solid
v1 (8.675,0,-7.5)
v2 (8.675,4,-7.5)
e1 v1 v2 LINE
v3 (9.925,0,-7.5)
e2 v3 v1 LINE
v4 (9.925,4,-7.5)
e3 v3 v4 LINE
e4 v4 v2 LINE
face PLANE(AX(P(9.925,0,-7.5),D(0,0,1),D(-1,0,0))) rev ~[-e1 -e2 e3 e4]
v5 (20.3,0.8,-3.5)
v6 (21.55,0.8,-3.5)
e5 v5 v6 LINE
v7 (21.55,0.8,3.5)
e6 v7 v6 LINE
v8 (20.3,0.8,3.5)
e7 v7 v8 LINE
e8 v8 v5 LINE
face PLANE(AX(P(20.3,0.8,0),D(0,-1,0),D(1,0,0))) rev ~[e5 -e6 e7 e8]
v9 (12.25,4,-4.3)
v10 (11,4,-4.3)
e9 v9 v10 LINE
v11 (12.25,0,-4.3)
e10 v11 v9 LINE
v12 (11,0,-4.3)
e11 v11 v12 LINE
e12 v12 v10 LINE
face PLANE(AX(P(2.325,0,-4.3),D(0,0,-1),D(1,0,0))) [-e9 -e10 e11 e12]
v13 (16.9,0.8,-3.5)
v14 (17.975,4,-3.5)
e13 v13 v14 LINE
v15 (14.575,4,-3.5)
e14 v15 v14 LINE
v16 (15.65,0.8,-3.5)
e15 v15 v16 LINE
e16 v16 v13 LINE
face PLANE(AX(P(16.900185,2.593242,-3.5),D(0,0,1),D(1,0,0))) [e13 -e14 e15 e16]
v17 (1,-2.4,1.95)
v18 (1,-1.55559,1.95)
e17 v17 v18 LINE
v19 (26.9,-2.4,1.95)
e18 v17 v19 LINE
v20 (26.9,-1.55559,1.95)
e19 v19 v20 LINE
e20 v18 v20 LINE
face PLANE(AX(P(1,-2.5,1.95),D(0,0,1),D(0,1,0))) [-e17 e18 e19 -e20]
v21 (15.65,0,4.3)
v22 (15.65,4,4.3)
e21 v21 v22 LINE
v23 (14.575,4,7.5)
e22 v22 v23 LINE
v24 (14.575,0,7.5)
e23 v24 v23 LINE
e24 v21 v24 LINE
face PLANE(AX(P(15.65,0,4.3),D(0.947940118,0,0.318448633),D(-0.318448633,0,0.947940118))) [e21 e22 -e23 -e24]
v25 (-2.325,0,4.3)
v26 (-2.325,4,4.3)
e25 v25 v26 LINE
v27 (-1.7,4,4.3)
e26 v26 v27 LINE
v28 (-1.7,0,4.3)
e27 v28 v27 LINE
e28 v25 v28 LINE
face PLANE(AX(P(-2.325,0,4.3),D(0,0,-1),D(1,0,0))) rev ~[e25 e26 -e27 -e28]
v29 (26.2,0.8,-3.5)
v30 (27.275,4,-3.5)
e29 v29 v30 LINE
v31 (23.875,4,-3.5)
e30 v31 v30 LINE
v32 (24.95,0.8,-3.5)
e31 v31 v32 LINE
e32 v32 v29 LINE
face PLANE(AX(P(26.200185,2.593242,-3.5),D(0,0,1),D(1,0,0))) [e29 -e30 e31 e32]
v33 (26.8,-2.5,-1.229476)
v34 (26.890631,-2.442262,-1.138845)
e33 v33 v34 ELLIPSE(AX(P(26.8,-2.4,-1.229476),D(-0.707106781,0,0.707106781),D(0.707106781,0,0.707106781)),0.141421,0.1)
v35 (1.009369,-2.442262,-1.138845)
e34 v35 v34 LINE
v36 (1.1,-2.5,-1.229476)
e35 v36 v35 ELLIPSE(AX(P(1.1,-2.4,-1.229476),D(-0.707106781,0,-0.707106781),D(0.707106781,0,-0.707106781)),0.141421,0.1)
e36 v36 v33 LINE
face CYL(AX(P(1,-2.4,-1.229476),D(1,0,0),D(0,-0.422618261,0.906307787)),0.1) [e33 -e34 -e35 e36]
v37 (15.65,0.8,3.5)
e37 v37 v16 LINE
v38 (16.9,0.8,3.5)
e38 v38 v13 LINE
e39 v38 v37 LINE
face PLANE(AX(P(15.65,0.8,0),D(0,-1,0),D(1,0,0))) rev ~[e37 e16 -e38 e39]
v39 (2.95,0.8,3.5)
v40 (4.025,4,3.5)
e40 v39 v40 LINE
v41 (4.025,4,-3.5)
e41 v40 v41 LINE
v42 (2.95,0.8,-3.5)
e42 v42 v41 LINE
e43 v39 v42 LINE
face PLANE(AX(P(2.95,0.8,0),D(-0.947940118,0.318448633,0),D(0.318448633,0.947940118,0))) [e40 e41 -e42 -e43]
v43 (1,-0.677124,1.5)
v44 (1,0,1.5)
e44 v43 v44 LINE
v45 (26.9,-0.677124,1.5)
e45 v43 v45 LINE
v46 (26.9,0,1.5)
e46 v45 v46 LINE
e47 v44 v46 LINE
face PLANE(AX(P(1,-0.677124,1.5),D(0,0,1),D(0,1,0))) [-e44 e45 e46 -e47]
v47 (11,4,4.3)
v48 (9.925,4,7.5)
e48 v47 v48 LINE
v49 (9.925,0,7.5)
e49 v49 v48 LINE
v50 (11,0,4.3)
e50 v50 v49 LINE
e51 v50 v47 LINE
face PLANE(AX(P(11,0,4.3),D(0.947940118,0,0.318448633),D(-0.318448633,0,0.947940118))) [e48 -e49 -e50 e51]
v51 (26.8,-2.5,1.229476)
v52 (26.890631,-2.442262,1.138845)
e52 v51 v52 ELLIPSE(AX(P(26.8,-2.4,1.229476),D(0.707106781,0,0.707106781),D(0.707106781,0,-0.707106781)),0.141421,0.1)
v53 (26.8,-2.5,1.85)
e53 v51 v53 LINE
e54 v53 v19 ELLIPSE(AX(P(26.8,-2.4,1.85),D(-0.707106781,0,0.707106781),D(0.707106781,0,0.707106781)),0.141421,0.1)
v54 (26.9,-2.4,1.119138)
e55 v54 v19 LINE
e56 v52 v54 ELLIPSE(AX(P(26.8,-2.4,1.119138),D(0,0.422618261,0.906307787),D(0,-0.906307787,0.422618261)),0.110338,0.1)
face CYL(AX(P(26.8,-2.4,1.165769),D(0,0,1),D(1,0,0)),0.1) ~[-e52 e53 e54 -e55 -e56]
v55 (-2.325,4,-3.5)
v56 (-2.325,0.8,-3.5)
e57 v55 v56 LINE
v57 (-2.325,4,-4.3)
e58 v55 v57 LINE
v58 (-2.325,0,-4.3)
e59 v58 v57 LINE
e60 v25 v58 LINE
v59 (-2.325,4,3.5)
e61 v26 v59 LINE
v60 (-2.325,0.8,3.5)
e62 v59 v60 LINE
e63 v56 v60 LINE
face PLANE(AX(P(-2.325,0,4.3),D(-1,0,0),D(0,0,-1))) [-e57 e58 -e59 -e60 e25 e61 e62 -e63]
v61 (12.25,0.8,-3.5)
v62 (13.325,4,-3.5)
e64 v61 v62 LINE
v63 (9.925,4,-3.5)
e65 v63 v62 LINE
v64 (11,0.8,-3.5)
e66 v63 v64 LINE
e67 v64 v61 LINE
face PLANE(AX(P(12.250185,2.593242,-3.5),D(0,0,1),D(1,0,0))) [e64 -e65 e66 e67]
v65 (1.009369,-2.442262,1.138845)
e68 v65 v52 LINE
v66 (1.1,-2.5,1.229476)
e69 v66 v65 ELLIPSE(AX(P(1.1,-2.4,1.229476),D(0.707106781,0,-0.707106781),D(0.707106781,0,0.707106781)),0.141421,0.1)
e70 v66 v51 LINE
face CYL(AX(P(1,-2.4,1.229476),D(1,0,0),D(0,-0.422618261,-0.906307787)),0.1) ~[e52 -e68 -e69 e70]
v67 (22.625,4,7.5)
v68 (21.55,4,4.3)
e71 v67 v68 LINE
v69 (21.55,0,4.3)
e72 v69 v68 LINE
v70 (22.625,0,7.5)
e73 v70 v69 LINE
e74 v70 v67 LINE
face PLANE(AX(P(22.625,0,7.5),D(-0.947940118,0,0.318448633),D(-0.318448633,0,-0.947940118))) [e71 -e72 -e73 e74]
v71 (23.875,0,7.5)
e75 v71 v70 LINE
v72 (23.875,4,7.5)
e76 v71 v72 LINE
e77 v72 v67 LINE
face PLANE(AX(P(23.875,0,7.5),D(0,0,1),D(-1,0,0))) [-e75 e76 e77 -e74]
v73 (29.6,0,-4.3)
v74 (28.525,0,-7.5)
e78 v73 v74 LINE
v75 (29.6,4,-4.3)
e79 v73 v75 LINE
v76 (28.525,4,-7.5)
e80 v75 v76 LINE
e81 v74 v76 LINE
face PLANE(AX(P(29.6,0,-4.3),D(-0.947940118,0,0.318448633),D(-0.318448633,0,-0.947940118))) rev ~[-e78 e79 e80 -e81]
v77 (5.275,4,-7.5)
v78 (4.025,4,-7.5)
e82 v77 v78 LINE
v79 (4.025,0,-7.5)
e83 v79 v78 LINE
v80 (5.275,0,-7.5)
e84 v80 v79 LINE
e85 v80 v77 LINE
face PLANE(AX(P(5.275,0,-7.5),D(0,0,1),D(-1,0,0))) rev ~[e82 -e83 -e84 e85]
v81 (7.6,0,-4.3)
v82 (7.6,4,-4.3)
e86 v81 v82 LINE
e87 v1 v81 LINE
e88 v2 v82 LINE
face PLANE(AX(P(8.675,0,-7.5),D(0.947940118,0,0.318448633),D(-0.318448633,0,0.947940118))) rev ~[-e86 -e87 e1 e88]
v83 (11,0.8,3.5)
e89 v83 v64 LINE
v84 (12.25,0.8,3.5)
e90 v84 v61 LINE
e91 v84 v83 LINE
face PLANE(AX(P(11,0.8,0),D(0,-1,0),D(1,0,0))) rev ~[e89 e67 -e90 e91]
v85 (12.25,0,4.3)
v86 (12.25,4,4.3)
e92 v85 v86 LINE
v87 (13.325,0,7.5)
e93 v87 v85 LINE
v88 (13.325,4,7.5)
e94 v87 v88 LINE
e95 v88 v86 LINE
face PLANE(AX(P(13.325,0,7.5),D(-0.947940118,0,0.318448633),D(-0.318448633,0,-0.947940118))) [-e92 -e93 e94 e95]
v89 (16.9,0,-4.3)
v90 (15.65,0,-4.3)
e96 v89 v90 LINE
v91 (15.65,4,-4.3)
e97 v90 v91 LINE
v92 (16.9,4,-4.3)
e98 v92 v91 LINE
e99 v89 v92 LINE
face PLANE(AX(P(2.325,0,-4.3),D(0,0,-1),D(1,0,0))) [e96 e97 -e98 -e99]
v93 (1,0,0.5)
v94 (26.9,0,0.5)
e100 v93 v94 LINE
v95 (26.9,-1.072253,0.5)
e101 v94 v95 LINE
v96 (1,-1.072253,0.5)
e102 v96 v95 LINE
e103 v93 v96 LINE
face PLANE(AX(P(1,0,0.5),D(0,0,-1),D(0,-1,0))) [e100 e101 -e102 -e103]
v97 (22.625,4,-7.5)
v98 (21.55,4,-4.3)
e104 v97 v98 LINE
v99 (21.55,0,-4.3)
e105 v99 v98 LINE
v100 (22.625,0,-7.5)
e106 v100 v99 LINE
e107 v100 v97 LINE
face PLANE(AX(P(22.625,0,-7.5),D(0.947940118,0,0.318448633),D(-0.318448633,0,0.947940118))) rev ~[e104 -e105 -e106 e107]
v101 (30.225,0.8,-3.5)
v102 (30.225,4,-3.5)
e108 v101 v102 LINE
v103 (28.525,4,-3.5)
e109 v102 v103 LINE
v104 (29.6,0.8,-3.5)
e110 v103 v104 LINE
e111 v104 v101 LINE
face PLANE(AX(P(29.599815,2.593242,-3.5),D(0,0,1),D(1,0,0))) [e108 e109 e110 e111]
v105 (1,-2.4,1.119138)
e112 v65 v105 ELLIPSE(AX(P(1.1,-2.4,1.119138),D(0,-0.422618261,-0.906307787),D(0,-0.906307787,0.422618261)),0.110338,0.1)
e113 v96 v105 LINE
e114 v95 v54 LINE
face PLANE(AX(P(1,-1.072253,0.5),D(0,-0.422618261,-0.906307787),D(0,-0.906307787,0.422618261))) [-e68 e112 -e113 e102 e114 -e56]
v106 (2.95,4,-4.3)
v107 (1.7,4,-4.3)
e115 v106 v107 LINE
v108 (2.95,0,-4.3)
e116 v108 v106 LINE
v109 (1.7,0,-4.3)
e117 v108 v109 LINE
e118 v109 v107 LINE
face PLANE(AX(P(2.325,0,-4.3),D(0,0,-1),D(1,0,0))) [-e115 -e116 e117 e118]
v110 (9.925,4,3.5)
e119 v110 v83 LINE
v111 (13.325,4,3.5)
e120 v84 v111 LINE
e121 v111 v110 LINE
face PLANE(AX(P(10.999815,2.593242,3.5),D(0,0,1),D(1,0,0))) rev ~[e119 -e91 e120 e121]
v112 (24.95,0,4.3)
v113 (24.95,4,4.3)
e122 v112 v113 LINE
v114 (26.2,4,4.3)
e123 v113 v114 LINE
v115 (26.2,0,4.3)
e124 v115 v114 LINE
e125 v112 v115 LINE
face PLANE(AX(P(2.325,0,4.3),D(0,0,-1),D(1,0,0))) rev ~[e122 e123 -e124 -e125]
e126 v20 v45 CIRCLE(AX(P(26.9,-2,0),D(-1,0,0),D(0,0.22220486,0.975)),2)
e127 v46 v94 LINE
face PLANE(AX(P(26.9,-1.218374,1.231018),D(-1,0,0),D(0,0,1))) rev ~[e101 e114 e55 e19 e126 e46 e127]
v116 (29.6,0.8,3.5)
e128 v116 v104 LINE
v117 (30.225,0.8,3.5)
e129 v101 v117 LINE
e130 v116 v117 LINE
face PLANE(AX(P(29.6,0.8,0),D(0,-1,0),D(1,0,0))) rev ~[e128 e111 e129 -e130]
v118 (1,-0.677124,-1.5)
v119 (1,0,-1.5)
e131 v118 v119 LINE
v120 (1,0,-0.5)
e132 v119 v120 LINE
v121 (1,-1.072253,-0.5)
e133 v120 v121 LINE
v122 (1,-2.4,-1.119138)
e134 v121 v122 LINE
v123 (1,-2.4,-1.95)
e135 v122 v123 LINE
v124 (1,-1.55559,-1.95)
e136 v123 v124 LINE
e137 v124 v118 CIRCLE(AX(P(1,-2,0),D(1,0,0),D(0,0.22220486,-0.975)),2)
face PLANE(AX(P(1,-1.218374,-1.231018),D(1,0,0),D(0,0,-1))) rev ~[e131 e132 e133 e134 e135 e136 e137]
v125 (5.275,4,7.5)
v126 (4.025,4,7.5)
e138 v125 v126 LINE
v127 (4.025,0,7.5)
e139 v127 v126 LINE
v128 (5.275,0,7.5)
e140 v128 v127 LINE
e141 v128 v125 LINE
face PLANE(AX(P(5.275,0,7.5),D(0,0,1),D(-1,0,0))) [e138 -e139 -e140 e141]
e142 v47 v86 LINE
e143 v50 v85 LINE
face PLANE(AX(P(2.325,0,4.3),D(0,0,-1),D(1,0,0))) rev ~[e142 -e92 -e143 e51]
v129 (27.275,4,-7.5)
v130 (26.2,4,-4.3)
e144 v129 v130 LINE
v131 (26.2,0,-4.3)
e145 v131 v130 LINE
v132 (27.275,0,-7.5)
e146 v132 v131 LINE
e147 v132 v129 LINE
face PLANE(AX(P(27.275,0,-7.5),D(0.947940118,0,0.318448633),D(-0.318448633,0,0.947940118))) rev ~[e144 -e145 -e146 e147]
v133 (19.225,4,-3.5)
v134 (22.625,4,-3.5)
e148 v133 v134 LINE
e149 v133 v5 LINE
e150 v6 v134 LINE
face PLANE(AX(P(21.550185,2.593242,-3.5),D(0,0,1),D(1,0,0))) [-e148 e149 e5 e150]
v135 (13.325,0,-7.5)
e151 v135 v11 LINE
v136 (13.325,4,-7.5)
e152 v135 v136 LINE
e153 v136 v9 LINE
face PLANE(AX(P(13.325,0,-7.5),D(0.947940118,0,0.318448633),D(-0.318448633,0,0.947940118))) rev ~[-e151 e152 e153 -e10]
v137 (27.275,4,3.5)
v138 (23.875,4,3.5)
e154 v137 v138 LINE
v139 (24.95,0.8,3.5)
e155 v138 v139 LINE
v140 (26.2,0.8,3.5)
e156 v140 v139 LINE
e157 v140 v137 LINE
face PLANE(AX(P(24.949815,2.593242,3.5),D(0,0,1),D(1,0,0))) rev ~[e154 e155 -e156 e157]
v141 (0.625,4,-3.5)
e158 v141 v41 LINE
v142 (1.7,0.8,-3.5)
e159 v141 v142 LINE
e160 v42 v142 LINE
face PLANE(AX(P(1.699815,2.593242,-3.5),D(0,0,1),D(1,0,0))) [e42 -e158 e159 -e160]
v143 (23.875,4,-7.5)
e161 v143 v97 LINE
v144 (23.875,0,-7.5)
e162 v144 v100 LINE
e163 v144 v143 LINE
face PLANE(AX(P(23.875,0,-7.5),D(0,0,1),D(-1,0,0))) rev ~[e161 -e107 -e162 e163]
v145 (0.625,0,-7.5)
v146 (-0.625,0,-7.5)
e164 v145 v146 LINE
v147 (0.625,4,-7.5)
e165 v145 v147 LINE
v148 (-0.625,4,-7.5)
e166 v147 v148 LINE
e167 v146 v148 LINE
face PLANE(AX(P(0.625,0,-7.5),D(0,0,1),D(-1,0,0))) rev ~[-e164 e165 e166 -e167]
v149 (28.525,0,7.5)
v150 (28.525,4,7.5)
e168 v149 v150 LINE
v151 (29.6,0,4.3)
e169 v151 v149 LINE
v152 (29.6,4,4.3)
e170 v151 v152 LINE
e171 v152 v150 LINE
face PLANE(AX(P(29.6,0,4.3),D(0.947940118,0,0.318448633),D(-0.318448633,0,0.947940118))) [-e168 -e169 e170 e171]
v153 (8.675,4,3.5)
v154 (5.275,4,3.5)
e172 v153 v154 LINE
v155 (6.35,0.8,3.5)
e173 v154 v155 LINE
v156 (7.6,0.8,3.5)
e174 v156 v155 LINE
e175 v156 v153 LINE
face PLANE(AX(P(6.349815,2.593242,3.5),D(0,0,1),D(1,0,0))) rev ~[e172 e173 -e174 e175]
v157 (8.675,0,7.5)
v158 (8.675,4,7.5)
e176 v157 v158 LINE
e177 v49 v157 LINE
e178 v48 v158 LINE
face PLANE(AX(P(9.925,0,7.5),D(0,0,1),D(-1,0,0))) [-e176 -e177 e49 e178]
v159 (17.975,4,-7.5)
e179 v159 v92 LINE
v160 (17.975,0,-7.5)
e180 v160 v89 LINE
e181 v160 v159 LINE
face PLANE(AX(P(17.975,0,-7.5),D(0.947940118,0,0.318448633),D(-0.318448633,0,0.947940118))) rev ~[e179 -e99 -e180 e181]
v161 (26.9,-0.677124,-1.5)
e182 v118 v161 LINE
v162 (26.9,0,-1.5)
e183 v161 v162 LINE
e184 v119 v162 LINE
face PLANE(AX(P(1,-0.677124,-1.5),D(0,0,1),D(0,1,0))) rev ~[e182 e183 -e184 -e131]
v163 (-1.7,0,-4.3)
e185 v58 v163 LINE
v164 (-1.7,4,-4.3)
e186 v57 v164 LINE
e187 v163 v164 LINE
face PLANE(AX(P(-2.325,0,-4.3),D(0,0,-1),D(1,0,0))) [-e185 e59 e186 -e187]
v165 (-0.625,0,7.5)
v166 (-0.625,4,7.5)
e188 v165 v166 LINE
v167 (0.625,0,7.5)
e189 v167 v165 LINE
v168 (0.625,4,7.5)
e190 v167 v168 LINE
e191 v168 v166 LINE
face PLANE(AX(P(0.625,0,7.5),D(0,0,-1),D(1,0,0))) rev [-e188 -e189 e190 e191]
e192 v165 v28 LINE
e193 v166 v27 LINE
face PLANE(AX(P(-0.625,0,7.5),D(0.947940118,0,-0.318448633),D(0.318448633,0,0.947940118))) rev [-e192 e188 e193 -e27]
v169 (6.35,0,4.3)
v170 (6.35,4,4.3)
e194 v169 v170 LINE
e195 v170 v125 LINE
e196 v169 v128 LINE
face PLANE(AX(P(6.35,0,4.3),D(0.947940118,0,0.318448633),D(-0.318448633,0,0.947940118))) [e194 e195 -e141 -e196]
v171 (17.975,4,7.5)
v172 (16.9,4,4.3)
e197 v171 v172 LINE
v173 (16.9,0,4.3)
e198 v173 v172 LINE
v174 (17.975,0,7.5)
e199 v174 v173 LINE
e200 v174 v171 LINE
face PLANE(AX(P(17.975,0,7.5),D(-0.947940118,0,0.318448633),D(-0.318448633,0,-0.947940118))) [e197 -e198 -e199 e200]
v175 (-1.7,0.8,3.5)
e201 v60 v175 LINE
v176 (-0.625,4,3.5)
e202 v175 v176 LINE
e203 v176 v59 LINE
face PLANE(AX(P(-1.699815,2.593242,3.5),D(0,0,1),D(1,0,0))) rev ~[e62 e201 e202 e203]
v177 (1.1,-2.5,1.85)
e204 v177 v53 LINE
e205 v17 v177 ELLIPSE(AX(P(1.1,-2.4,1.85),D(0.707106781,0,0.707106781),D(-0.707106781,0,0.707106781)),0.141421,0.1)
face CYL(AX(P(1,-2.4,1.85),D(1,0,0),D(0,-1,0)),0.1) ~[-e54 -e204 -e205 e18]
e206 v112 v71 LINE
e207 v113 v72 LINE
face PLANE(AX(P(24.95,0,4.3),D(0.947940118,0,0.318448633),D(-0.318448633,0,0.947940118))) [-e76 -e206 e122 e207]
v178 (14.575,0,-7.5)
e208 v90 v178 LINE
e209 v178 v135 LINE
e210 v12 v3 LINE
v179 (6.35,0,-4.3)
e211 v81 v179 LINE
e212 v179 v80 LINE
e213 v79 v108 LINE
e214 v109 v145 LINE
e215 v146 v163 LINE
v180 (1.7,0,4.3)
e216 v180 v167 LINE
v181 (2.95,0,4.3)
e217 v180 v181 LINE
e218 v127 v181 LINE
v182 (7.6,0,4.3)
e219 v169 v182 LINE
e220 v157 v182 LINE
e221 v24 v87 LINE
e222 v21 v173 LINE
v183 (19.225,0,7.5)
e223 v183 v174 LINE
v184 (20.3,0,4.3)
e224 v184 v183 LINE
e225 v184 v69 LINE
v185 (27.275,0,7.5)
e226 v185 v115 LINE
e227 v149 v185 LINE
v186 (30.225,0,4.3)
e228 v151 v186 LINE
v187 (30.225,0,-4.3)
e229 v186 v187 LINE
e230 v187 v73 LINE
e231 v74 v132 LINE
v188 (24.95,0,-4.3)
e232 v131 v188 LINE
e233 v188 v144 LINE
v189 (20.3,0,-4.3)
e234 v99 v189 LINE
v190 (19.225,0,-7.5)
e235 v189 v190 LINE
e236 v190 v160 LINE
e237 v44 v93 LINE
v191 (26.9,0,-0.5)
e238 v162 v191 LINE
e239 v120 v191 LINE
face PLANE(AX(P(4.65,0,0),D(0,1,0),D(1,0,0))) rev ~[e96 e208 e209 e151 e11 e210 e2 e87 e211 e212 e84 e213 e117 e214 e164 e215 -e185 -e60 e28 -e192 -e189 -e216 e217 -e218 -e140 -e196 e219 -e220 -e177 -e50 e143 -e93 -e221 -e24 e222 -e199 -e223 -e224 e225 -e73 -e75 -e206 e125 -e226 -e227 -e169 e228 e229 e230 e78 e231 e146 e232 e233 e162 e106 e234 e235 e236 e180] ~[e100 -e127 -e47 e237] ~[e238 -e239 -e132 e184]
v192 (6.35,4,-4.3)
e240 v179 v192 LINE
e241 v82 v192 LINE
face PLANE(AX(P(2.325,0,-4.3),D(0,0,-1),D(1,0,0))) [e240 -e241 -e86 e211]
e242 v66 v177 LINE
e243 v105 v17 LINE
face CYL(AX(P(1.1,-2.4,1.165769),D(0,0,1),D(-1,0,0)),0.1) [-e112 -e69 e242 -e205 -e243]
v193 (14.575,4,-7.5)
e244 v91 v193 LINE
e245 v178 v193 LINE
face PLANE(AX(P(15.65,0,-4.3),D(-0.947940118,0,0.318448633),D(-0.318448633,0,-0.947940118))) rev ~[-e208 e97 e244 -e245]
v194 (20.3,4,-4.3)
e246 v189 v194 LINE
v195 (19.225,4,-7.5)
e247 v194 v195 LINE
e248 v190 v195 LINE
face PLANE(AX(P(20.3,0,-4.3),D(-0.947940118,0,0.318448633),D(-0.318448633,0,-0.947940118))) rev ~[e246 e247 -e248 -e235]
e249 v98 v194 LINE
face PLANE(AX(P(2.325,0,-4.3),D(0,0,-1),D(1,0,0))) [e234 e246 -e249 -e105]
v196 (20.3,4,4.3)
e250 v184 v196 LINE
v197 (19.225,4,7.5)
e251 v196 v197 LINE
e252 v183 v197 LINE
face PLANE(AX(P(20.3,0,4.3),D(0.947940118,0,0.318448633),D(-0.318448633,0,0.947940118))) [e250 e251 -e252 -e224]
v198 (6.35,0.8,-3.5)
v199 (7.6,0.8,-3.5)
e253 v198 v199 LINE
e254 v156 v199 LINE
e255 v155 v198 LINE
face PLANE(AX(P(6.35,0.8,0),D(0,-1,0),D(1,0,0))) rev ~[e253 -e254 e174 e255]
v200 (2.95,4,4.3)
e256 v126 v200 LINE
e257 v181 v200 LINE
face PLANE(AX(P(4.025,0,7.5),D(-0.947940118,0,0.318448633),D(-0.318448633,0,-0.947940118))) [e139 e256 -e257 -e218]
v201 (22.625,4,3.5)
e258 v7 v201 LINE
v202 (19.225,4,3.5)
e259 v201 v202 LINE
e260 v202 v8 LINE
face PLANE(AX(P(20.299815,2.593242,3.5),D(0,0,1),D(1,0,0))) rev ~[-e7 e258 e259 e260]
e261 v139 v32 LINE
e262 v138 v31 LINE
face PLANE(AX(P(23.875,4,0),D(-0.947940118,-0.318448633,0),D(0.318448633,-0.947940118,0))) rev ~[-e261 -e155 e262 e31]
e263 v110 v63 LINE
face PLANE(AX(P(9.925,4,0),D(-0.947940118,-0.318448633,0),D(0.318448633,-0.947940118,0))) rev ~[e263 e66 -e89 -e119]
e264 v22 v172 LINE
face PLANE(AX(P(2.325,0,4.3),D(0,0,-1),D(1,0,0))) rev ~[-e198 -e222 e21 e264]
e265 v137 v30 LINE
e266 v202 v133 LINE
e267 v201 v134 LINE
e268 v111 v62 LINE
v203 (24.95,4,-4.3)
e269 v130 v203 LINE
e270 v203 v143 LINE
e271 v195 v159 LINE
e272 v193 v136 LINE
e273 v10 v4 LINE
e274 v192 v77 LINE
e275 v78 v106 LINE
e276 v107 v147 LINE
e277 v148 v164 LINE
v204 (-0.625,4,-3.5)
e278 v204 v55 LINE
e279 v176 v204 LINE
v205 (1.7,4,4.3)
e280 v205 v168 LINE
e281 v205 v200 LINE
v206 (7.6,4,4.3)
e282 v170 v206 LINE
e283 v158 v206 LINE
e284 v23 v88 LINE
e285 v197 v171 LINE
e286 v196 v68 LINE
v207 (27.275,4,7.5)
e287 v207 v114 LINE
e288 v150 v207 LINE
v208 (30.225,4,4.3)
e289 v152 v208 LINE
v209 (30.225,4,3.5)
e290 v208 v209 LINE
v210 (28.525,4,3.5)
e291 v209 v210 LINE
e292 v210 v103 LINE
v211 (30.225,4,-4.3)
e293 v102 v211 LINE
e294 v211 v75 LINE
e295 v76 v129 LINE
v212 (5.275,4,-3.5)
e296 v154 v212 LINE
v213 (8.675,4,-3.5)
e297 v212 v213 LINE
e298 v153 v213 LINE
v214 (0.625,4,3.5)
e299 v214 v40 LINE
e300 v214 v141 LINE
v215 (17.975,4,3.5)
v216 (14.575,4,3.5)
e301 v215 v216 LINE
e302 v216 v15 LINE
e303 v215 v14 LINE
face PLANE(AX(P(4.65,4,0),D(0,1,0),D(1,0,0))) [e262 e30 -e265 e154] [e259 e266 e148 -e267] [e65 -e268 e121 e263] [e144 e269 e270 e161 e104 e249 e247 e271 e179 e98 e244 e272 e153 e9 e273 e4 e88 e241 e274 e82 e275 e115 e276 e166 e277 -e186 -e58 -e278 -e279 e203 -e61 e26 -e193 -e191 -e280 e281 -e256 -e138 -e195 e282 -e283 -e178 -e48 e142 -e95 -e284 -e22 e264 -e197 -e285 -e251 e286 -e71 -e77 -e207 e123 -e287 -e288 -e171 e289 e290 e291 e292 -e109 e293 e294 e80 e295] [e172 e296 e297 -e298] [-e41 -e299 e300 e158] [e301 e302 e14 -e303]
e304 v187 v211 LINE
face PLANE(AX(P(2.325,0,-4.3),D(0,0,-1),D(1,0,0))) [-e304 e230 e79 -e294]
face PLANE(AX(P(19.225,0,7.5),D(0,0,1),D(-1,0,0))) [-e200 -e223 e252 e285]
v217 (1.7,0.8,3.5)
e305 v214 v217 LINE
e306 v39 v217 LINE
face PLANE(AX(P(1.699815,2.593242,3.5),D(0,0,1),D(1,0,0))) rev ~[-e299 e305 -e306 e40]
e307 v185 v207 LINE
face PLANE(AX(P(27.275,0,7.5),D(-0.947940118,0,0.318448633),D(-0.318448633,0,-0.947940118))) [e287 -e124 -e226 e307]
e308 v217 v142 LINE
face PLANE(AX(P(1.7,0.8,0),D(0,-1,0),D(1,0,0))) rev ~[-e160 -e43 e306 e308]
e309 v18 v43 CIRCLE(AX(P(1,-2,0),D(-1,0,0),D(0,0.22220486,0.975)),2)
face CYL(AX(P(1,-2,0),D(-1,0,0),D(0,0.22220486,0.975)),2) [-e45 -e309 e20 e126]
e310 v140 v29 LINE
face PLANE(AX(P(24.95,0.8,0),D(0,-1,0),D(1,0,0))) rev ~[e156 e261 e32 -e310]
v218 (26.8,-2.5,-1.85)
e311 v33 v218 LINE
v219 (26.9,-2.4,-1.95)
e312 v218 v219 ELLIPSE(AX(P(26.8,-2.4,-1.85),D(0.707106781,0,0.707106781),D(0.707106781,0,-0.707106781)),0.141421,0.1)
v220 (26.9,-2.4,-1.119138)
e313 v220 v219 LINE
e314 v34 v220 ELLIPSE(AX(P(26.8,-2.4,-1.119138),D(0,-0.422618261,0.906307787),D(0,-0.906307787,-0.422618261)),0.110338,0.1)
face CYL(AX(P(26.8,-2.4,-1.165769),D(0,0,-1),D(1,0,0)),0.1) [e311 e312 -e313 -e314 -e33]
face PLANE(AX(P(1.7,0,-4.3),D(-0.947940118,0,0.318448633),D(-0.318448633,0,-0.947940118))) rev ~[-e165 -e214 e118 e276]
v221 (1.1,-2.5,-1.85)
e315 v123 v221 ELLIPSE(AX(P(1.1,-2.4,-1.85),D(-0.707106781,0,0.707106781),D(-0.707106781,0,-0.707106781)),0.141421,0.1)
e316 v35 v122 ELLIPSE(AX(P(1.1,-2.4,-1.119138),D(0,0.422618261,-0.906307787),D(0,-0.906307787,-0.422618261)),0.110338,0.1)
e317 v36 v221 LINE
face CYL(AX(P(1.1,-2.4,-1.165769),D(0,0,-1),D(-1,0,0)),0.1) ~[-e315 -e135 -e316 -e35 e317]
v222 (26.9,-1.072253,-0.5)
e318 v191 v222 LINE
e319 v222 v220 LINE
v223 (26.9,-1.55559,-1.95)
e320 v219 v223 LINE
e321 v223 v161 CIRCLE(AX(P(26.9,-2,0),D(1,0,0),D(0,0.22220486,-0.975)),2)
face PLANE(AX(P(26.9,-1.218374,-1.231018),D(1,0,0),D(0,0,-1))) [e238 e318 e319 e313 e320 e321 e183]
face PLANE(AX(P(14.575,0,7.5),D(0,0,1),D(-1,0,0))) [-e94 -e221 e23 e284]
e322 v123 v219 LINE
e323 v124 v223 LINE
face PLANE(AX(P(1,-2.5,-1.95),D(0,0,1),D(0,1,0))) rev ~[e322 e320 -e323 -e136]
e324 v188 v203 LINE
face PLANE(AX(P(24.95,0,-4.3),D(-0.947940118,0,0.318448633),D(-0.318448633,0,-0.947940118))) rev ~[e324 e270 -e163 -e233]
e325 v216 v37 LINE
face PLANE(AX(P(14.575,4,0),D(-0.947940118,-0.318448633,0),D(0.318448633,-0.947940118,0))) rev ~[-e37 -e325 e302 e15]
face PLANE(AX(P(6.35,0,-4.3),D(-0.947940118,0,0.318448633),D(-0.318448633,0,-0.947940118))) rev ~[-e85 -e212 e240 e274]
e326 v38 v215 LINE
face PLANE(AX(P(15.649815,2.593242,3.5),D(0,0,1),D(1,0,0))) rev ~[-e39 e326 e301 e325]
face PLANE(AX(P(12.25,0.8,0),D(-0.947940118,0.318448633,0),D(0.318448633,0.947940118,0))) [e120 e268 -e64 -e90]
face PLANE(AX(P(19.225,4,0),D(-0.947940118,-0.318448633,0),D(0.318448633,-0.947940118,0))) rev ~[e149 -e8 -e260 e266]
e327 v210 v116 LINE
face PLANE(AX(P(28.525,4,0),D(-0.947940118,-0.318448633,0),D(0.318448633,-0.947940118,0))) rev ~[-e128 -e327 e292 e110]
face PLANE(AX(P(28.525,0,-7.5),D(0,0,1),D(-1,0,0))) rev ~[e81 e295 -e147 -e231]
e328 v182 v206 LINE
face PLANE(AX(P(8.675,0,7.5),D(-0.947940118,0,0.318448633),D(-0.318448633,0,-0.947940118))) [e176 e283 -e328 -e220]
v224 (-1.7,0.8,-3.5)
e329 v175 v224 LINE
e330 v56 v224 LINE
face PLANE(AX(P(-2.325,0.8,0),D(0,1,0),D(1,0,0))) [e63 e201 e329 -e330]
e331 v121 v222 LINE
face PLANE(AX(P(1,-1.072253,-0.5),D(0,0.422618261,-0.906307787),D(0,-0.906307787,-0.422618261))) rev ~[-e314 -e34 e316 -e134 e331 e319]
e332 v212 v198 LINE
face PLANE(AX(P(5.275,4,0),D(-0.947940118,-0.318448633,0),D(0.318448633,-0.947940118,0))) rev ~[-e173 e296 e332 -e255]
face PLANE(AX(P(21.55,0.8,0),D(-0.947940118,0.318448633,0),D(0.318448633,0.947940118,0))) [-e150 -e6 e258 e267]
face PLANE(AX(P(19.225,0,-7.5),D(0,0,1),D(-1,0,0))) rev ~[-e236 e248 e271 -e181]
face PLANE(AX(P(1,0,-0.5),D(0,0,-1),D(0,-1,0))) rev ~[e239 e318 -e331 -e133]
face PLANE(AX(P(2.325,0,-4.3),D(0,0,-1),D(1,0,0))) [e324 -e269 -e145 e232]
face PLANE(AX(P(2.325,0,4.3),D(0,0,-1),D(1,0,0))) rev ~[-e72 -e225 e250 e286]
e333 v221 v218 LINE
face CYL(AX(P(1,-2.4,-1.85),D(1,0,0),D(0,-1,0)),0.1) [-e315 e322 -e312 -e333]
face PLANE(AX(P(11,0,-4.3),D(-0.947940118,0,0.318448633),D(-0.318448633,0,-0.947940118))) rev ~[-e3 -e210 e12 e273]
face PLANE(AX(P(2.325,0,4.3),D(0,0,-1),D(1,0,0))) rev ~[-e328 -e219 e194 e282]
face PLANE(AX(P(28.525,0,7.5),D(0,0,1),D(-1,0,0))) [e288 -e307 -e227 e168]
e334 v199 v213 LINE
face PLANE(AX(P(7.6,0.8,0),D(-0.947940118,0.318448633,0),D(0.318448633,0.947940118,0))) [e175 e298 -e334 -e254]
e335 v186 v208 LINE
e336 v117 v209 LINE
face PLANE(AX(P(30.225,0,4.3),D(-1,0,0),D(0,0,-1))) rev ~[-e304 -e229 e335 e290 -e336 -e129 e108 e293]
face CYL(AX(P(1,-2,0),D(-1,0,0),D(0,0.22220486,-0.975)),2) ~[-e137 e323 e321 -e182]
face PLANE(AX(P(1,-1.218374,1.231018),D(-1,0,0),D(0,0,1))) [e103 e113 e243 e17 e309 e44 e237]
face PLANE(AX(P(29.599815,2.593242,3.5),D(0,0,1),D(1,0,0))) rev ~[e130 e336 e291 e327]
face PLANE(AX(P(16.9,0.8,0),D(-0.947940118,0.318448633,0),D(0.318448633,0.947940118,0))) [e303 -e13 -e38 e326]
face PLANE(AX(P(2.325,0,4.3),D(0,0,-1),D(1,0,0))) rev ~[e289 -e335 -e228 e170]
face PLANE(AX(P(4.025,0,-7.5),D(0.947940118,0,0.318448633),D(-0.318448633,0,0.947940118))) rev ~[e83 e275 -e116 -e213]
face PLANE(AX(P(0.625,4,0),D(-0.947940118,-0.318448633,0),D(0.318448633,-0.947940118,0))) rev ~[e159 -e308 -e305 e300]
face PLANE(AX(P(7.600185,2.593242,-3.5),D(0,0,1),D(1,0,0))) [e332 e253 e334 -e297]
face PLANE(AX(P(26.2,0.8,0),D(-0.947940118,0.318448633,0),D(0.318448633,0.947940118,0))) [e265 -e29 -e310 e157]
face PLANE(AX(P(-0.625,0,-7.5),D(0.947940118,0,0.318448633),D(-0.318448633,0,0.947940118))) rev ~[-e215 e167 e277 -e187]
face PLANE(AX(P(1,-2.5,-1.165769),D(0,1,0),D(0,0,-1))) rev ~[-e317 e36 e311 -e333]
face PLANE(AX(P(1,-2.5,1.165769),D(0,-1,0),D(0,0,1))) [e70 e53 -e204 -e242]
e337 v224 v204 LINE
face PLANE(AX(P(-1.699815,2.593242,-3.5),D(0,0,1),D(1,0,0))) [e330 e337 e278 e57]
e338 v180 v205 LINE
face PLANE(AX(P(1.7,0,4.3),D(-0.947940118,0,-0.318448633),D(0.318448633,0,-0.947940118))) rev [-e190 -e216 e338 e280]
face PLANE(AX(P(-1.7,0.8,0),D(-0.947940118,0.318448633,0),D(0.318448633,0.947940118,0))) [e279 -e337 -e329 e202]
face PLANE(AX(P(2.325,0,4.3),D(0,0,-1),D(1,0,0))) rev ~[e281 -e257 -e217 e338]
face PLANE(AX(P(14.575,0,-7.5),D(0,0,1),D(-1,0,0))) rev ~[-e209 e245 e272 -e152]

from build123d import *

# Parameters (mm, degrees)
SKETCH_1_W                    = 4.65
SKETCH_1_H                    = 8.6
EXTRUDE_1_DEPTH               = 4
EXTRUDE_2_DEPTH               = 4
CUT_EXTRUDE_1_DEPTH           = 3.5
PATTERN_LINEAR_4_COUNT        = 7
PATTERN_LINEAR_4_PITCH        = 4.65
PATTERN_LINEAR_4_COPY_1_DEPTH = 4
PATTERN_LINEAR_4_COPY_2_DEPTH = 4
PATTERN_LINEAR_4_COPY_3_DEPTH = 4
PATTERN_LINEAR_4_COPY_4_DEPTH = 4
PATTERN_LINEAR_4_COPY_5_DEPTH = 4
PATTERN_LINEAR_4_COPY_6_DEPTH = 4
EXTRUDE_START                 = 1
EXTRUDE_4_DEPTH               = 25.9
FILLET_1_R                    = 0.1


with BuildPart() as part:
    # 草图1 → 凸台-拉伸1 (new body)
    with BuildSketch(Plane(origin=(0, 0, 0), x_dir=(1, 0, 0), z_dir=(0, 1, 0))):
        Rectangle(SKETCH_1_W, SKETCH_1_H)
    extrude_1 = extrude(amount=EXTRUDE_1_DEPTH)

    # 草图3 → 凸台-拉伸2 (add)
    with BuildSketch(Plane(origin=(0, 0, 0), x_dir=(1, 0, 0), z_dir=(0, 1, 0))):
        Polygon((0.625, 7.5), (-0.625, 7.5), (-1.7, 4.3), (1.7, 4.3), align=None)
    extrude_2 = extrude(amount=EXTRUDE_2_DEPTH)

    # 镜向1: 凸台-拉伸2 across plane
    add(extrude_2.mirror(Plane.XY))

    # 草图4 → 切除-拉伸1 (cut, symmetric)
    with BuildSketch(Plane.XY):
        Polygon((-0.625, 4), (-2.325, 4), (-2.325, 0.8), (-1.7, 0.8), align=None)
        Polygon((1.7, 0.8), (2.325, 0.8), (2.325, 4), (0.625, 4), align=None)
    cut_extrude_1 = extrude(amount=CUT_EXTRUDE_1_DEPTH, both=True, mode=Mode.SUBTRACT)

    # 阵列(线性)4: 凸台-拉伸1, 凸台-拉伸2, 切除-拉伸1 ×7
    with Locations(*[(i * PATTERN_LINEAR_4_PITCH, 0, 0) for i in range(1, PATTERN_LINEAR_4_COUNT)]):
        add(extrude_1)
        add(extrude_2)
        add(cut_extrude_1, mode=Mode.SUBTRACT)

    # 阵列(线性)4 copy 1 sketch → 阵列(线性)4 copy 1 (add)
    with BuildSketch(Plane(origin=(4.65, 0, 0), x_dir=(1, 0, 0), z_dir=(0, 1, 0))):
        Polygon((0.625, -7.5), (-0.625, -7.5), (-1.7, -4.3), (1.7, -4.3), align=None)
    extrude(amount=PATTERN_LINEAR_4_COPY_1_DEPTH)

    # 阵列(线性)4 copy 2 sketch → 阵列(线性)4 copy 2 (add)
    with BuildSketch(Plane(origin=(9.3, 0, 0), x_dir=(1, 0, 0), z_dir=(0, 1, 0))):
        Polygon((0.625, -7.5), (-0.625, -7.5), (-1.7, -4.3), (1.7, -4.3), align=None)
    extrude(amount=PATTERN_LINEAR_4_COPY_2_DEPTH)

    # 阵列(线性)4 copy 3 sketch → 阵列(线性)4 copy 3 (add)
    with BuildSketch(Plane(origin=(13.95, 0, 0), x_dir=(1, 0, 0), z_dir=(0, 1, 0))):
        Polygon((0.625, -7.5), (-0.625, -7.5), (-1.7, -4.3), (1.7, -4.3), align=None)
    extrude(amount=PATTERN_LINEAR_4_COPY_3_DEPTH)

    # 阵列(线性)4 copy 4 sketch → 阵列(线性)4 copy 4 (add)
    with BuildSketch(Plane(origin=(18.6, 0, 0), x_dir=(1, 0, 0), z_dir=(0, 1, 0))):
        Polygon((0.625, -7.5), (-0.625, -7.5), (-1.7, -4.3), (1.7, -4.3), align=None)
    extrude(amount=PATTERN_LINEAR_4_COPY_4_DEPTH)

    # 阵列(线性)4 copy 5 sketch → 阵列(线性)4 copy 5 (add)
    with BuildSketch(Plane(origin=(23.25, 0, 0), x_dir=(1, 0, 0), z_dir=(0, 1, 0))):
        Polygon((0.625, -7.5), (-0.625, -7.5), (-1.7, -4.3), (1.7, -4.3), align=None)
    extrude(amount=PATTERN_LINEAR_4_COPY_5_DEPTH)

    # 阵列(线性)4 copy 6 sketch → 阵列(线性)4 copy 6 (add)
    with BuildSketch(Plane(origin=(27.9, 0, 0), x_dir=(1, 0, 0), z_dir=(0, 1, 0))):
        Polygon((0.625, -7.5), (-0.625, -7.5), (-1.7, -4.3), (1.7, -4.3), align=None)
    extrude(amount=PATTERN_LINEAR_4_COPY_6_DEPTH)

    # 草图6 → 凸台-拉伸4 (add)
    with BuildSketch(Plane(origin=(0, 0, 0), x_dir=(0, 0, -1), z_dir=(1, 0, 0)).offset(EXTRUDE_START)):
        with BuildLine():
            Line((1.5, 0), (0.5, 0))
            Line((0.5, 0), (0.5, -1.07225346))
            Line((0.5, -1.07225346), (1.165769145, -2.5))
            Line((1.165769145, -2.5), (1.95, -2.5))
            Line((1.95, -2.5), (1.95, -1.555590279))
            ThreePointArc((1.95, -1.555590279), (1.780042303, -1.088161527), (1.5, -0.677124344))
            Line((1.5, -0.677124344), (1.5, 0))
        make_face()
        with BuildLine():
            Line((-0.5, -1.07225346), (-1.165769145, -2.5))
            Line((-1.165769145, -2.5), (-1.95, -2.5))
            Line((-1.95, -2.5), (-1.95, -1.555590279))
            ThreePointArc((-1.95, -1.555590279), (-1.780042303, -1.088161527), (-1.5, -0.677124344))
            Line((-1.5, -0.677124344), (-1.5, 0))
            Line((-1.5, 0), (-0.5, 0))
            Line((-0.5, 0), (-0.5, -1.07225346))
        make_face()
    extrude(amount=EXTRUDE_4_DEPTH)

    # 圆角1
    fillet_1_edges = [part.edges().sort_by_distance(p)[0] for p in [
        (1, -2.5, -1.557884573),
        (13.95, -2.5, -1.165769145),
        (13.95, -2.5, -1.95),
        (26.9, -2.5, -1.557884573),
        (1, -2.5, 1.557884573),
        (13.95, -2.5, 1.95),
        (13.95, -2.5, 1.165769145),
        (26.9, -2.5, 1.557884573),
    ]]
    fillet(fillet_1_edges, radius=FILLET_1_R)


solid = part.part
